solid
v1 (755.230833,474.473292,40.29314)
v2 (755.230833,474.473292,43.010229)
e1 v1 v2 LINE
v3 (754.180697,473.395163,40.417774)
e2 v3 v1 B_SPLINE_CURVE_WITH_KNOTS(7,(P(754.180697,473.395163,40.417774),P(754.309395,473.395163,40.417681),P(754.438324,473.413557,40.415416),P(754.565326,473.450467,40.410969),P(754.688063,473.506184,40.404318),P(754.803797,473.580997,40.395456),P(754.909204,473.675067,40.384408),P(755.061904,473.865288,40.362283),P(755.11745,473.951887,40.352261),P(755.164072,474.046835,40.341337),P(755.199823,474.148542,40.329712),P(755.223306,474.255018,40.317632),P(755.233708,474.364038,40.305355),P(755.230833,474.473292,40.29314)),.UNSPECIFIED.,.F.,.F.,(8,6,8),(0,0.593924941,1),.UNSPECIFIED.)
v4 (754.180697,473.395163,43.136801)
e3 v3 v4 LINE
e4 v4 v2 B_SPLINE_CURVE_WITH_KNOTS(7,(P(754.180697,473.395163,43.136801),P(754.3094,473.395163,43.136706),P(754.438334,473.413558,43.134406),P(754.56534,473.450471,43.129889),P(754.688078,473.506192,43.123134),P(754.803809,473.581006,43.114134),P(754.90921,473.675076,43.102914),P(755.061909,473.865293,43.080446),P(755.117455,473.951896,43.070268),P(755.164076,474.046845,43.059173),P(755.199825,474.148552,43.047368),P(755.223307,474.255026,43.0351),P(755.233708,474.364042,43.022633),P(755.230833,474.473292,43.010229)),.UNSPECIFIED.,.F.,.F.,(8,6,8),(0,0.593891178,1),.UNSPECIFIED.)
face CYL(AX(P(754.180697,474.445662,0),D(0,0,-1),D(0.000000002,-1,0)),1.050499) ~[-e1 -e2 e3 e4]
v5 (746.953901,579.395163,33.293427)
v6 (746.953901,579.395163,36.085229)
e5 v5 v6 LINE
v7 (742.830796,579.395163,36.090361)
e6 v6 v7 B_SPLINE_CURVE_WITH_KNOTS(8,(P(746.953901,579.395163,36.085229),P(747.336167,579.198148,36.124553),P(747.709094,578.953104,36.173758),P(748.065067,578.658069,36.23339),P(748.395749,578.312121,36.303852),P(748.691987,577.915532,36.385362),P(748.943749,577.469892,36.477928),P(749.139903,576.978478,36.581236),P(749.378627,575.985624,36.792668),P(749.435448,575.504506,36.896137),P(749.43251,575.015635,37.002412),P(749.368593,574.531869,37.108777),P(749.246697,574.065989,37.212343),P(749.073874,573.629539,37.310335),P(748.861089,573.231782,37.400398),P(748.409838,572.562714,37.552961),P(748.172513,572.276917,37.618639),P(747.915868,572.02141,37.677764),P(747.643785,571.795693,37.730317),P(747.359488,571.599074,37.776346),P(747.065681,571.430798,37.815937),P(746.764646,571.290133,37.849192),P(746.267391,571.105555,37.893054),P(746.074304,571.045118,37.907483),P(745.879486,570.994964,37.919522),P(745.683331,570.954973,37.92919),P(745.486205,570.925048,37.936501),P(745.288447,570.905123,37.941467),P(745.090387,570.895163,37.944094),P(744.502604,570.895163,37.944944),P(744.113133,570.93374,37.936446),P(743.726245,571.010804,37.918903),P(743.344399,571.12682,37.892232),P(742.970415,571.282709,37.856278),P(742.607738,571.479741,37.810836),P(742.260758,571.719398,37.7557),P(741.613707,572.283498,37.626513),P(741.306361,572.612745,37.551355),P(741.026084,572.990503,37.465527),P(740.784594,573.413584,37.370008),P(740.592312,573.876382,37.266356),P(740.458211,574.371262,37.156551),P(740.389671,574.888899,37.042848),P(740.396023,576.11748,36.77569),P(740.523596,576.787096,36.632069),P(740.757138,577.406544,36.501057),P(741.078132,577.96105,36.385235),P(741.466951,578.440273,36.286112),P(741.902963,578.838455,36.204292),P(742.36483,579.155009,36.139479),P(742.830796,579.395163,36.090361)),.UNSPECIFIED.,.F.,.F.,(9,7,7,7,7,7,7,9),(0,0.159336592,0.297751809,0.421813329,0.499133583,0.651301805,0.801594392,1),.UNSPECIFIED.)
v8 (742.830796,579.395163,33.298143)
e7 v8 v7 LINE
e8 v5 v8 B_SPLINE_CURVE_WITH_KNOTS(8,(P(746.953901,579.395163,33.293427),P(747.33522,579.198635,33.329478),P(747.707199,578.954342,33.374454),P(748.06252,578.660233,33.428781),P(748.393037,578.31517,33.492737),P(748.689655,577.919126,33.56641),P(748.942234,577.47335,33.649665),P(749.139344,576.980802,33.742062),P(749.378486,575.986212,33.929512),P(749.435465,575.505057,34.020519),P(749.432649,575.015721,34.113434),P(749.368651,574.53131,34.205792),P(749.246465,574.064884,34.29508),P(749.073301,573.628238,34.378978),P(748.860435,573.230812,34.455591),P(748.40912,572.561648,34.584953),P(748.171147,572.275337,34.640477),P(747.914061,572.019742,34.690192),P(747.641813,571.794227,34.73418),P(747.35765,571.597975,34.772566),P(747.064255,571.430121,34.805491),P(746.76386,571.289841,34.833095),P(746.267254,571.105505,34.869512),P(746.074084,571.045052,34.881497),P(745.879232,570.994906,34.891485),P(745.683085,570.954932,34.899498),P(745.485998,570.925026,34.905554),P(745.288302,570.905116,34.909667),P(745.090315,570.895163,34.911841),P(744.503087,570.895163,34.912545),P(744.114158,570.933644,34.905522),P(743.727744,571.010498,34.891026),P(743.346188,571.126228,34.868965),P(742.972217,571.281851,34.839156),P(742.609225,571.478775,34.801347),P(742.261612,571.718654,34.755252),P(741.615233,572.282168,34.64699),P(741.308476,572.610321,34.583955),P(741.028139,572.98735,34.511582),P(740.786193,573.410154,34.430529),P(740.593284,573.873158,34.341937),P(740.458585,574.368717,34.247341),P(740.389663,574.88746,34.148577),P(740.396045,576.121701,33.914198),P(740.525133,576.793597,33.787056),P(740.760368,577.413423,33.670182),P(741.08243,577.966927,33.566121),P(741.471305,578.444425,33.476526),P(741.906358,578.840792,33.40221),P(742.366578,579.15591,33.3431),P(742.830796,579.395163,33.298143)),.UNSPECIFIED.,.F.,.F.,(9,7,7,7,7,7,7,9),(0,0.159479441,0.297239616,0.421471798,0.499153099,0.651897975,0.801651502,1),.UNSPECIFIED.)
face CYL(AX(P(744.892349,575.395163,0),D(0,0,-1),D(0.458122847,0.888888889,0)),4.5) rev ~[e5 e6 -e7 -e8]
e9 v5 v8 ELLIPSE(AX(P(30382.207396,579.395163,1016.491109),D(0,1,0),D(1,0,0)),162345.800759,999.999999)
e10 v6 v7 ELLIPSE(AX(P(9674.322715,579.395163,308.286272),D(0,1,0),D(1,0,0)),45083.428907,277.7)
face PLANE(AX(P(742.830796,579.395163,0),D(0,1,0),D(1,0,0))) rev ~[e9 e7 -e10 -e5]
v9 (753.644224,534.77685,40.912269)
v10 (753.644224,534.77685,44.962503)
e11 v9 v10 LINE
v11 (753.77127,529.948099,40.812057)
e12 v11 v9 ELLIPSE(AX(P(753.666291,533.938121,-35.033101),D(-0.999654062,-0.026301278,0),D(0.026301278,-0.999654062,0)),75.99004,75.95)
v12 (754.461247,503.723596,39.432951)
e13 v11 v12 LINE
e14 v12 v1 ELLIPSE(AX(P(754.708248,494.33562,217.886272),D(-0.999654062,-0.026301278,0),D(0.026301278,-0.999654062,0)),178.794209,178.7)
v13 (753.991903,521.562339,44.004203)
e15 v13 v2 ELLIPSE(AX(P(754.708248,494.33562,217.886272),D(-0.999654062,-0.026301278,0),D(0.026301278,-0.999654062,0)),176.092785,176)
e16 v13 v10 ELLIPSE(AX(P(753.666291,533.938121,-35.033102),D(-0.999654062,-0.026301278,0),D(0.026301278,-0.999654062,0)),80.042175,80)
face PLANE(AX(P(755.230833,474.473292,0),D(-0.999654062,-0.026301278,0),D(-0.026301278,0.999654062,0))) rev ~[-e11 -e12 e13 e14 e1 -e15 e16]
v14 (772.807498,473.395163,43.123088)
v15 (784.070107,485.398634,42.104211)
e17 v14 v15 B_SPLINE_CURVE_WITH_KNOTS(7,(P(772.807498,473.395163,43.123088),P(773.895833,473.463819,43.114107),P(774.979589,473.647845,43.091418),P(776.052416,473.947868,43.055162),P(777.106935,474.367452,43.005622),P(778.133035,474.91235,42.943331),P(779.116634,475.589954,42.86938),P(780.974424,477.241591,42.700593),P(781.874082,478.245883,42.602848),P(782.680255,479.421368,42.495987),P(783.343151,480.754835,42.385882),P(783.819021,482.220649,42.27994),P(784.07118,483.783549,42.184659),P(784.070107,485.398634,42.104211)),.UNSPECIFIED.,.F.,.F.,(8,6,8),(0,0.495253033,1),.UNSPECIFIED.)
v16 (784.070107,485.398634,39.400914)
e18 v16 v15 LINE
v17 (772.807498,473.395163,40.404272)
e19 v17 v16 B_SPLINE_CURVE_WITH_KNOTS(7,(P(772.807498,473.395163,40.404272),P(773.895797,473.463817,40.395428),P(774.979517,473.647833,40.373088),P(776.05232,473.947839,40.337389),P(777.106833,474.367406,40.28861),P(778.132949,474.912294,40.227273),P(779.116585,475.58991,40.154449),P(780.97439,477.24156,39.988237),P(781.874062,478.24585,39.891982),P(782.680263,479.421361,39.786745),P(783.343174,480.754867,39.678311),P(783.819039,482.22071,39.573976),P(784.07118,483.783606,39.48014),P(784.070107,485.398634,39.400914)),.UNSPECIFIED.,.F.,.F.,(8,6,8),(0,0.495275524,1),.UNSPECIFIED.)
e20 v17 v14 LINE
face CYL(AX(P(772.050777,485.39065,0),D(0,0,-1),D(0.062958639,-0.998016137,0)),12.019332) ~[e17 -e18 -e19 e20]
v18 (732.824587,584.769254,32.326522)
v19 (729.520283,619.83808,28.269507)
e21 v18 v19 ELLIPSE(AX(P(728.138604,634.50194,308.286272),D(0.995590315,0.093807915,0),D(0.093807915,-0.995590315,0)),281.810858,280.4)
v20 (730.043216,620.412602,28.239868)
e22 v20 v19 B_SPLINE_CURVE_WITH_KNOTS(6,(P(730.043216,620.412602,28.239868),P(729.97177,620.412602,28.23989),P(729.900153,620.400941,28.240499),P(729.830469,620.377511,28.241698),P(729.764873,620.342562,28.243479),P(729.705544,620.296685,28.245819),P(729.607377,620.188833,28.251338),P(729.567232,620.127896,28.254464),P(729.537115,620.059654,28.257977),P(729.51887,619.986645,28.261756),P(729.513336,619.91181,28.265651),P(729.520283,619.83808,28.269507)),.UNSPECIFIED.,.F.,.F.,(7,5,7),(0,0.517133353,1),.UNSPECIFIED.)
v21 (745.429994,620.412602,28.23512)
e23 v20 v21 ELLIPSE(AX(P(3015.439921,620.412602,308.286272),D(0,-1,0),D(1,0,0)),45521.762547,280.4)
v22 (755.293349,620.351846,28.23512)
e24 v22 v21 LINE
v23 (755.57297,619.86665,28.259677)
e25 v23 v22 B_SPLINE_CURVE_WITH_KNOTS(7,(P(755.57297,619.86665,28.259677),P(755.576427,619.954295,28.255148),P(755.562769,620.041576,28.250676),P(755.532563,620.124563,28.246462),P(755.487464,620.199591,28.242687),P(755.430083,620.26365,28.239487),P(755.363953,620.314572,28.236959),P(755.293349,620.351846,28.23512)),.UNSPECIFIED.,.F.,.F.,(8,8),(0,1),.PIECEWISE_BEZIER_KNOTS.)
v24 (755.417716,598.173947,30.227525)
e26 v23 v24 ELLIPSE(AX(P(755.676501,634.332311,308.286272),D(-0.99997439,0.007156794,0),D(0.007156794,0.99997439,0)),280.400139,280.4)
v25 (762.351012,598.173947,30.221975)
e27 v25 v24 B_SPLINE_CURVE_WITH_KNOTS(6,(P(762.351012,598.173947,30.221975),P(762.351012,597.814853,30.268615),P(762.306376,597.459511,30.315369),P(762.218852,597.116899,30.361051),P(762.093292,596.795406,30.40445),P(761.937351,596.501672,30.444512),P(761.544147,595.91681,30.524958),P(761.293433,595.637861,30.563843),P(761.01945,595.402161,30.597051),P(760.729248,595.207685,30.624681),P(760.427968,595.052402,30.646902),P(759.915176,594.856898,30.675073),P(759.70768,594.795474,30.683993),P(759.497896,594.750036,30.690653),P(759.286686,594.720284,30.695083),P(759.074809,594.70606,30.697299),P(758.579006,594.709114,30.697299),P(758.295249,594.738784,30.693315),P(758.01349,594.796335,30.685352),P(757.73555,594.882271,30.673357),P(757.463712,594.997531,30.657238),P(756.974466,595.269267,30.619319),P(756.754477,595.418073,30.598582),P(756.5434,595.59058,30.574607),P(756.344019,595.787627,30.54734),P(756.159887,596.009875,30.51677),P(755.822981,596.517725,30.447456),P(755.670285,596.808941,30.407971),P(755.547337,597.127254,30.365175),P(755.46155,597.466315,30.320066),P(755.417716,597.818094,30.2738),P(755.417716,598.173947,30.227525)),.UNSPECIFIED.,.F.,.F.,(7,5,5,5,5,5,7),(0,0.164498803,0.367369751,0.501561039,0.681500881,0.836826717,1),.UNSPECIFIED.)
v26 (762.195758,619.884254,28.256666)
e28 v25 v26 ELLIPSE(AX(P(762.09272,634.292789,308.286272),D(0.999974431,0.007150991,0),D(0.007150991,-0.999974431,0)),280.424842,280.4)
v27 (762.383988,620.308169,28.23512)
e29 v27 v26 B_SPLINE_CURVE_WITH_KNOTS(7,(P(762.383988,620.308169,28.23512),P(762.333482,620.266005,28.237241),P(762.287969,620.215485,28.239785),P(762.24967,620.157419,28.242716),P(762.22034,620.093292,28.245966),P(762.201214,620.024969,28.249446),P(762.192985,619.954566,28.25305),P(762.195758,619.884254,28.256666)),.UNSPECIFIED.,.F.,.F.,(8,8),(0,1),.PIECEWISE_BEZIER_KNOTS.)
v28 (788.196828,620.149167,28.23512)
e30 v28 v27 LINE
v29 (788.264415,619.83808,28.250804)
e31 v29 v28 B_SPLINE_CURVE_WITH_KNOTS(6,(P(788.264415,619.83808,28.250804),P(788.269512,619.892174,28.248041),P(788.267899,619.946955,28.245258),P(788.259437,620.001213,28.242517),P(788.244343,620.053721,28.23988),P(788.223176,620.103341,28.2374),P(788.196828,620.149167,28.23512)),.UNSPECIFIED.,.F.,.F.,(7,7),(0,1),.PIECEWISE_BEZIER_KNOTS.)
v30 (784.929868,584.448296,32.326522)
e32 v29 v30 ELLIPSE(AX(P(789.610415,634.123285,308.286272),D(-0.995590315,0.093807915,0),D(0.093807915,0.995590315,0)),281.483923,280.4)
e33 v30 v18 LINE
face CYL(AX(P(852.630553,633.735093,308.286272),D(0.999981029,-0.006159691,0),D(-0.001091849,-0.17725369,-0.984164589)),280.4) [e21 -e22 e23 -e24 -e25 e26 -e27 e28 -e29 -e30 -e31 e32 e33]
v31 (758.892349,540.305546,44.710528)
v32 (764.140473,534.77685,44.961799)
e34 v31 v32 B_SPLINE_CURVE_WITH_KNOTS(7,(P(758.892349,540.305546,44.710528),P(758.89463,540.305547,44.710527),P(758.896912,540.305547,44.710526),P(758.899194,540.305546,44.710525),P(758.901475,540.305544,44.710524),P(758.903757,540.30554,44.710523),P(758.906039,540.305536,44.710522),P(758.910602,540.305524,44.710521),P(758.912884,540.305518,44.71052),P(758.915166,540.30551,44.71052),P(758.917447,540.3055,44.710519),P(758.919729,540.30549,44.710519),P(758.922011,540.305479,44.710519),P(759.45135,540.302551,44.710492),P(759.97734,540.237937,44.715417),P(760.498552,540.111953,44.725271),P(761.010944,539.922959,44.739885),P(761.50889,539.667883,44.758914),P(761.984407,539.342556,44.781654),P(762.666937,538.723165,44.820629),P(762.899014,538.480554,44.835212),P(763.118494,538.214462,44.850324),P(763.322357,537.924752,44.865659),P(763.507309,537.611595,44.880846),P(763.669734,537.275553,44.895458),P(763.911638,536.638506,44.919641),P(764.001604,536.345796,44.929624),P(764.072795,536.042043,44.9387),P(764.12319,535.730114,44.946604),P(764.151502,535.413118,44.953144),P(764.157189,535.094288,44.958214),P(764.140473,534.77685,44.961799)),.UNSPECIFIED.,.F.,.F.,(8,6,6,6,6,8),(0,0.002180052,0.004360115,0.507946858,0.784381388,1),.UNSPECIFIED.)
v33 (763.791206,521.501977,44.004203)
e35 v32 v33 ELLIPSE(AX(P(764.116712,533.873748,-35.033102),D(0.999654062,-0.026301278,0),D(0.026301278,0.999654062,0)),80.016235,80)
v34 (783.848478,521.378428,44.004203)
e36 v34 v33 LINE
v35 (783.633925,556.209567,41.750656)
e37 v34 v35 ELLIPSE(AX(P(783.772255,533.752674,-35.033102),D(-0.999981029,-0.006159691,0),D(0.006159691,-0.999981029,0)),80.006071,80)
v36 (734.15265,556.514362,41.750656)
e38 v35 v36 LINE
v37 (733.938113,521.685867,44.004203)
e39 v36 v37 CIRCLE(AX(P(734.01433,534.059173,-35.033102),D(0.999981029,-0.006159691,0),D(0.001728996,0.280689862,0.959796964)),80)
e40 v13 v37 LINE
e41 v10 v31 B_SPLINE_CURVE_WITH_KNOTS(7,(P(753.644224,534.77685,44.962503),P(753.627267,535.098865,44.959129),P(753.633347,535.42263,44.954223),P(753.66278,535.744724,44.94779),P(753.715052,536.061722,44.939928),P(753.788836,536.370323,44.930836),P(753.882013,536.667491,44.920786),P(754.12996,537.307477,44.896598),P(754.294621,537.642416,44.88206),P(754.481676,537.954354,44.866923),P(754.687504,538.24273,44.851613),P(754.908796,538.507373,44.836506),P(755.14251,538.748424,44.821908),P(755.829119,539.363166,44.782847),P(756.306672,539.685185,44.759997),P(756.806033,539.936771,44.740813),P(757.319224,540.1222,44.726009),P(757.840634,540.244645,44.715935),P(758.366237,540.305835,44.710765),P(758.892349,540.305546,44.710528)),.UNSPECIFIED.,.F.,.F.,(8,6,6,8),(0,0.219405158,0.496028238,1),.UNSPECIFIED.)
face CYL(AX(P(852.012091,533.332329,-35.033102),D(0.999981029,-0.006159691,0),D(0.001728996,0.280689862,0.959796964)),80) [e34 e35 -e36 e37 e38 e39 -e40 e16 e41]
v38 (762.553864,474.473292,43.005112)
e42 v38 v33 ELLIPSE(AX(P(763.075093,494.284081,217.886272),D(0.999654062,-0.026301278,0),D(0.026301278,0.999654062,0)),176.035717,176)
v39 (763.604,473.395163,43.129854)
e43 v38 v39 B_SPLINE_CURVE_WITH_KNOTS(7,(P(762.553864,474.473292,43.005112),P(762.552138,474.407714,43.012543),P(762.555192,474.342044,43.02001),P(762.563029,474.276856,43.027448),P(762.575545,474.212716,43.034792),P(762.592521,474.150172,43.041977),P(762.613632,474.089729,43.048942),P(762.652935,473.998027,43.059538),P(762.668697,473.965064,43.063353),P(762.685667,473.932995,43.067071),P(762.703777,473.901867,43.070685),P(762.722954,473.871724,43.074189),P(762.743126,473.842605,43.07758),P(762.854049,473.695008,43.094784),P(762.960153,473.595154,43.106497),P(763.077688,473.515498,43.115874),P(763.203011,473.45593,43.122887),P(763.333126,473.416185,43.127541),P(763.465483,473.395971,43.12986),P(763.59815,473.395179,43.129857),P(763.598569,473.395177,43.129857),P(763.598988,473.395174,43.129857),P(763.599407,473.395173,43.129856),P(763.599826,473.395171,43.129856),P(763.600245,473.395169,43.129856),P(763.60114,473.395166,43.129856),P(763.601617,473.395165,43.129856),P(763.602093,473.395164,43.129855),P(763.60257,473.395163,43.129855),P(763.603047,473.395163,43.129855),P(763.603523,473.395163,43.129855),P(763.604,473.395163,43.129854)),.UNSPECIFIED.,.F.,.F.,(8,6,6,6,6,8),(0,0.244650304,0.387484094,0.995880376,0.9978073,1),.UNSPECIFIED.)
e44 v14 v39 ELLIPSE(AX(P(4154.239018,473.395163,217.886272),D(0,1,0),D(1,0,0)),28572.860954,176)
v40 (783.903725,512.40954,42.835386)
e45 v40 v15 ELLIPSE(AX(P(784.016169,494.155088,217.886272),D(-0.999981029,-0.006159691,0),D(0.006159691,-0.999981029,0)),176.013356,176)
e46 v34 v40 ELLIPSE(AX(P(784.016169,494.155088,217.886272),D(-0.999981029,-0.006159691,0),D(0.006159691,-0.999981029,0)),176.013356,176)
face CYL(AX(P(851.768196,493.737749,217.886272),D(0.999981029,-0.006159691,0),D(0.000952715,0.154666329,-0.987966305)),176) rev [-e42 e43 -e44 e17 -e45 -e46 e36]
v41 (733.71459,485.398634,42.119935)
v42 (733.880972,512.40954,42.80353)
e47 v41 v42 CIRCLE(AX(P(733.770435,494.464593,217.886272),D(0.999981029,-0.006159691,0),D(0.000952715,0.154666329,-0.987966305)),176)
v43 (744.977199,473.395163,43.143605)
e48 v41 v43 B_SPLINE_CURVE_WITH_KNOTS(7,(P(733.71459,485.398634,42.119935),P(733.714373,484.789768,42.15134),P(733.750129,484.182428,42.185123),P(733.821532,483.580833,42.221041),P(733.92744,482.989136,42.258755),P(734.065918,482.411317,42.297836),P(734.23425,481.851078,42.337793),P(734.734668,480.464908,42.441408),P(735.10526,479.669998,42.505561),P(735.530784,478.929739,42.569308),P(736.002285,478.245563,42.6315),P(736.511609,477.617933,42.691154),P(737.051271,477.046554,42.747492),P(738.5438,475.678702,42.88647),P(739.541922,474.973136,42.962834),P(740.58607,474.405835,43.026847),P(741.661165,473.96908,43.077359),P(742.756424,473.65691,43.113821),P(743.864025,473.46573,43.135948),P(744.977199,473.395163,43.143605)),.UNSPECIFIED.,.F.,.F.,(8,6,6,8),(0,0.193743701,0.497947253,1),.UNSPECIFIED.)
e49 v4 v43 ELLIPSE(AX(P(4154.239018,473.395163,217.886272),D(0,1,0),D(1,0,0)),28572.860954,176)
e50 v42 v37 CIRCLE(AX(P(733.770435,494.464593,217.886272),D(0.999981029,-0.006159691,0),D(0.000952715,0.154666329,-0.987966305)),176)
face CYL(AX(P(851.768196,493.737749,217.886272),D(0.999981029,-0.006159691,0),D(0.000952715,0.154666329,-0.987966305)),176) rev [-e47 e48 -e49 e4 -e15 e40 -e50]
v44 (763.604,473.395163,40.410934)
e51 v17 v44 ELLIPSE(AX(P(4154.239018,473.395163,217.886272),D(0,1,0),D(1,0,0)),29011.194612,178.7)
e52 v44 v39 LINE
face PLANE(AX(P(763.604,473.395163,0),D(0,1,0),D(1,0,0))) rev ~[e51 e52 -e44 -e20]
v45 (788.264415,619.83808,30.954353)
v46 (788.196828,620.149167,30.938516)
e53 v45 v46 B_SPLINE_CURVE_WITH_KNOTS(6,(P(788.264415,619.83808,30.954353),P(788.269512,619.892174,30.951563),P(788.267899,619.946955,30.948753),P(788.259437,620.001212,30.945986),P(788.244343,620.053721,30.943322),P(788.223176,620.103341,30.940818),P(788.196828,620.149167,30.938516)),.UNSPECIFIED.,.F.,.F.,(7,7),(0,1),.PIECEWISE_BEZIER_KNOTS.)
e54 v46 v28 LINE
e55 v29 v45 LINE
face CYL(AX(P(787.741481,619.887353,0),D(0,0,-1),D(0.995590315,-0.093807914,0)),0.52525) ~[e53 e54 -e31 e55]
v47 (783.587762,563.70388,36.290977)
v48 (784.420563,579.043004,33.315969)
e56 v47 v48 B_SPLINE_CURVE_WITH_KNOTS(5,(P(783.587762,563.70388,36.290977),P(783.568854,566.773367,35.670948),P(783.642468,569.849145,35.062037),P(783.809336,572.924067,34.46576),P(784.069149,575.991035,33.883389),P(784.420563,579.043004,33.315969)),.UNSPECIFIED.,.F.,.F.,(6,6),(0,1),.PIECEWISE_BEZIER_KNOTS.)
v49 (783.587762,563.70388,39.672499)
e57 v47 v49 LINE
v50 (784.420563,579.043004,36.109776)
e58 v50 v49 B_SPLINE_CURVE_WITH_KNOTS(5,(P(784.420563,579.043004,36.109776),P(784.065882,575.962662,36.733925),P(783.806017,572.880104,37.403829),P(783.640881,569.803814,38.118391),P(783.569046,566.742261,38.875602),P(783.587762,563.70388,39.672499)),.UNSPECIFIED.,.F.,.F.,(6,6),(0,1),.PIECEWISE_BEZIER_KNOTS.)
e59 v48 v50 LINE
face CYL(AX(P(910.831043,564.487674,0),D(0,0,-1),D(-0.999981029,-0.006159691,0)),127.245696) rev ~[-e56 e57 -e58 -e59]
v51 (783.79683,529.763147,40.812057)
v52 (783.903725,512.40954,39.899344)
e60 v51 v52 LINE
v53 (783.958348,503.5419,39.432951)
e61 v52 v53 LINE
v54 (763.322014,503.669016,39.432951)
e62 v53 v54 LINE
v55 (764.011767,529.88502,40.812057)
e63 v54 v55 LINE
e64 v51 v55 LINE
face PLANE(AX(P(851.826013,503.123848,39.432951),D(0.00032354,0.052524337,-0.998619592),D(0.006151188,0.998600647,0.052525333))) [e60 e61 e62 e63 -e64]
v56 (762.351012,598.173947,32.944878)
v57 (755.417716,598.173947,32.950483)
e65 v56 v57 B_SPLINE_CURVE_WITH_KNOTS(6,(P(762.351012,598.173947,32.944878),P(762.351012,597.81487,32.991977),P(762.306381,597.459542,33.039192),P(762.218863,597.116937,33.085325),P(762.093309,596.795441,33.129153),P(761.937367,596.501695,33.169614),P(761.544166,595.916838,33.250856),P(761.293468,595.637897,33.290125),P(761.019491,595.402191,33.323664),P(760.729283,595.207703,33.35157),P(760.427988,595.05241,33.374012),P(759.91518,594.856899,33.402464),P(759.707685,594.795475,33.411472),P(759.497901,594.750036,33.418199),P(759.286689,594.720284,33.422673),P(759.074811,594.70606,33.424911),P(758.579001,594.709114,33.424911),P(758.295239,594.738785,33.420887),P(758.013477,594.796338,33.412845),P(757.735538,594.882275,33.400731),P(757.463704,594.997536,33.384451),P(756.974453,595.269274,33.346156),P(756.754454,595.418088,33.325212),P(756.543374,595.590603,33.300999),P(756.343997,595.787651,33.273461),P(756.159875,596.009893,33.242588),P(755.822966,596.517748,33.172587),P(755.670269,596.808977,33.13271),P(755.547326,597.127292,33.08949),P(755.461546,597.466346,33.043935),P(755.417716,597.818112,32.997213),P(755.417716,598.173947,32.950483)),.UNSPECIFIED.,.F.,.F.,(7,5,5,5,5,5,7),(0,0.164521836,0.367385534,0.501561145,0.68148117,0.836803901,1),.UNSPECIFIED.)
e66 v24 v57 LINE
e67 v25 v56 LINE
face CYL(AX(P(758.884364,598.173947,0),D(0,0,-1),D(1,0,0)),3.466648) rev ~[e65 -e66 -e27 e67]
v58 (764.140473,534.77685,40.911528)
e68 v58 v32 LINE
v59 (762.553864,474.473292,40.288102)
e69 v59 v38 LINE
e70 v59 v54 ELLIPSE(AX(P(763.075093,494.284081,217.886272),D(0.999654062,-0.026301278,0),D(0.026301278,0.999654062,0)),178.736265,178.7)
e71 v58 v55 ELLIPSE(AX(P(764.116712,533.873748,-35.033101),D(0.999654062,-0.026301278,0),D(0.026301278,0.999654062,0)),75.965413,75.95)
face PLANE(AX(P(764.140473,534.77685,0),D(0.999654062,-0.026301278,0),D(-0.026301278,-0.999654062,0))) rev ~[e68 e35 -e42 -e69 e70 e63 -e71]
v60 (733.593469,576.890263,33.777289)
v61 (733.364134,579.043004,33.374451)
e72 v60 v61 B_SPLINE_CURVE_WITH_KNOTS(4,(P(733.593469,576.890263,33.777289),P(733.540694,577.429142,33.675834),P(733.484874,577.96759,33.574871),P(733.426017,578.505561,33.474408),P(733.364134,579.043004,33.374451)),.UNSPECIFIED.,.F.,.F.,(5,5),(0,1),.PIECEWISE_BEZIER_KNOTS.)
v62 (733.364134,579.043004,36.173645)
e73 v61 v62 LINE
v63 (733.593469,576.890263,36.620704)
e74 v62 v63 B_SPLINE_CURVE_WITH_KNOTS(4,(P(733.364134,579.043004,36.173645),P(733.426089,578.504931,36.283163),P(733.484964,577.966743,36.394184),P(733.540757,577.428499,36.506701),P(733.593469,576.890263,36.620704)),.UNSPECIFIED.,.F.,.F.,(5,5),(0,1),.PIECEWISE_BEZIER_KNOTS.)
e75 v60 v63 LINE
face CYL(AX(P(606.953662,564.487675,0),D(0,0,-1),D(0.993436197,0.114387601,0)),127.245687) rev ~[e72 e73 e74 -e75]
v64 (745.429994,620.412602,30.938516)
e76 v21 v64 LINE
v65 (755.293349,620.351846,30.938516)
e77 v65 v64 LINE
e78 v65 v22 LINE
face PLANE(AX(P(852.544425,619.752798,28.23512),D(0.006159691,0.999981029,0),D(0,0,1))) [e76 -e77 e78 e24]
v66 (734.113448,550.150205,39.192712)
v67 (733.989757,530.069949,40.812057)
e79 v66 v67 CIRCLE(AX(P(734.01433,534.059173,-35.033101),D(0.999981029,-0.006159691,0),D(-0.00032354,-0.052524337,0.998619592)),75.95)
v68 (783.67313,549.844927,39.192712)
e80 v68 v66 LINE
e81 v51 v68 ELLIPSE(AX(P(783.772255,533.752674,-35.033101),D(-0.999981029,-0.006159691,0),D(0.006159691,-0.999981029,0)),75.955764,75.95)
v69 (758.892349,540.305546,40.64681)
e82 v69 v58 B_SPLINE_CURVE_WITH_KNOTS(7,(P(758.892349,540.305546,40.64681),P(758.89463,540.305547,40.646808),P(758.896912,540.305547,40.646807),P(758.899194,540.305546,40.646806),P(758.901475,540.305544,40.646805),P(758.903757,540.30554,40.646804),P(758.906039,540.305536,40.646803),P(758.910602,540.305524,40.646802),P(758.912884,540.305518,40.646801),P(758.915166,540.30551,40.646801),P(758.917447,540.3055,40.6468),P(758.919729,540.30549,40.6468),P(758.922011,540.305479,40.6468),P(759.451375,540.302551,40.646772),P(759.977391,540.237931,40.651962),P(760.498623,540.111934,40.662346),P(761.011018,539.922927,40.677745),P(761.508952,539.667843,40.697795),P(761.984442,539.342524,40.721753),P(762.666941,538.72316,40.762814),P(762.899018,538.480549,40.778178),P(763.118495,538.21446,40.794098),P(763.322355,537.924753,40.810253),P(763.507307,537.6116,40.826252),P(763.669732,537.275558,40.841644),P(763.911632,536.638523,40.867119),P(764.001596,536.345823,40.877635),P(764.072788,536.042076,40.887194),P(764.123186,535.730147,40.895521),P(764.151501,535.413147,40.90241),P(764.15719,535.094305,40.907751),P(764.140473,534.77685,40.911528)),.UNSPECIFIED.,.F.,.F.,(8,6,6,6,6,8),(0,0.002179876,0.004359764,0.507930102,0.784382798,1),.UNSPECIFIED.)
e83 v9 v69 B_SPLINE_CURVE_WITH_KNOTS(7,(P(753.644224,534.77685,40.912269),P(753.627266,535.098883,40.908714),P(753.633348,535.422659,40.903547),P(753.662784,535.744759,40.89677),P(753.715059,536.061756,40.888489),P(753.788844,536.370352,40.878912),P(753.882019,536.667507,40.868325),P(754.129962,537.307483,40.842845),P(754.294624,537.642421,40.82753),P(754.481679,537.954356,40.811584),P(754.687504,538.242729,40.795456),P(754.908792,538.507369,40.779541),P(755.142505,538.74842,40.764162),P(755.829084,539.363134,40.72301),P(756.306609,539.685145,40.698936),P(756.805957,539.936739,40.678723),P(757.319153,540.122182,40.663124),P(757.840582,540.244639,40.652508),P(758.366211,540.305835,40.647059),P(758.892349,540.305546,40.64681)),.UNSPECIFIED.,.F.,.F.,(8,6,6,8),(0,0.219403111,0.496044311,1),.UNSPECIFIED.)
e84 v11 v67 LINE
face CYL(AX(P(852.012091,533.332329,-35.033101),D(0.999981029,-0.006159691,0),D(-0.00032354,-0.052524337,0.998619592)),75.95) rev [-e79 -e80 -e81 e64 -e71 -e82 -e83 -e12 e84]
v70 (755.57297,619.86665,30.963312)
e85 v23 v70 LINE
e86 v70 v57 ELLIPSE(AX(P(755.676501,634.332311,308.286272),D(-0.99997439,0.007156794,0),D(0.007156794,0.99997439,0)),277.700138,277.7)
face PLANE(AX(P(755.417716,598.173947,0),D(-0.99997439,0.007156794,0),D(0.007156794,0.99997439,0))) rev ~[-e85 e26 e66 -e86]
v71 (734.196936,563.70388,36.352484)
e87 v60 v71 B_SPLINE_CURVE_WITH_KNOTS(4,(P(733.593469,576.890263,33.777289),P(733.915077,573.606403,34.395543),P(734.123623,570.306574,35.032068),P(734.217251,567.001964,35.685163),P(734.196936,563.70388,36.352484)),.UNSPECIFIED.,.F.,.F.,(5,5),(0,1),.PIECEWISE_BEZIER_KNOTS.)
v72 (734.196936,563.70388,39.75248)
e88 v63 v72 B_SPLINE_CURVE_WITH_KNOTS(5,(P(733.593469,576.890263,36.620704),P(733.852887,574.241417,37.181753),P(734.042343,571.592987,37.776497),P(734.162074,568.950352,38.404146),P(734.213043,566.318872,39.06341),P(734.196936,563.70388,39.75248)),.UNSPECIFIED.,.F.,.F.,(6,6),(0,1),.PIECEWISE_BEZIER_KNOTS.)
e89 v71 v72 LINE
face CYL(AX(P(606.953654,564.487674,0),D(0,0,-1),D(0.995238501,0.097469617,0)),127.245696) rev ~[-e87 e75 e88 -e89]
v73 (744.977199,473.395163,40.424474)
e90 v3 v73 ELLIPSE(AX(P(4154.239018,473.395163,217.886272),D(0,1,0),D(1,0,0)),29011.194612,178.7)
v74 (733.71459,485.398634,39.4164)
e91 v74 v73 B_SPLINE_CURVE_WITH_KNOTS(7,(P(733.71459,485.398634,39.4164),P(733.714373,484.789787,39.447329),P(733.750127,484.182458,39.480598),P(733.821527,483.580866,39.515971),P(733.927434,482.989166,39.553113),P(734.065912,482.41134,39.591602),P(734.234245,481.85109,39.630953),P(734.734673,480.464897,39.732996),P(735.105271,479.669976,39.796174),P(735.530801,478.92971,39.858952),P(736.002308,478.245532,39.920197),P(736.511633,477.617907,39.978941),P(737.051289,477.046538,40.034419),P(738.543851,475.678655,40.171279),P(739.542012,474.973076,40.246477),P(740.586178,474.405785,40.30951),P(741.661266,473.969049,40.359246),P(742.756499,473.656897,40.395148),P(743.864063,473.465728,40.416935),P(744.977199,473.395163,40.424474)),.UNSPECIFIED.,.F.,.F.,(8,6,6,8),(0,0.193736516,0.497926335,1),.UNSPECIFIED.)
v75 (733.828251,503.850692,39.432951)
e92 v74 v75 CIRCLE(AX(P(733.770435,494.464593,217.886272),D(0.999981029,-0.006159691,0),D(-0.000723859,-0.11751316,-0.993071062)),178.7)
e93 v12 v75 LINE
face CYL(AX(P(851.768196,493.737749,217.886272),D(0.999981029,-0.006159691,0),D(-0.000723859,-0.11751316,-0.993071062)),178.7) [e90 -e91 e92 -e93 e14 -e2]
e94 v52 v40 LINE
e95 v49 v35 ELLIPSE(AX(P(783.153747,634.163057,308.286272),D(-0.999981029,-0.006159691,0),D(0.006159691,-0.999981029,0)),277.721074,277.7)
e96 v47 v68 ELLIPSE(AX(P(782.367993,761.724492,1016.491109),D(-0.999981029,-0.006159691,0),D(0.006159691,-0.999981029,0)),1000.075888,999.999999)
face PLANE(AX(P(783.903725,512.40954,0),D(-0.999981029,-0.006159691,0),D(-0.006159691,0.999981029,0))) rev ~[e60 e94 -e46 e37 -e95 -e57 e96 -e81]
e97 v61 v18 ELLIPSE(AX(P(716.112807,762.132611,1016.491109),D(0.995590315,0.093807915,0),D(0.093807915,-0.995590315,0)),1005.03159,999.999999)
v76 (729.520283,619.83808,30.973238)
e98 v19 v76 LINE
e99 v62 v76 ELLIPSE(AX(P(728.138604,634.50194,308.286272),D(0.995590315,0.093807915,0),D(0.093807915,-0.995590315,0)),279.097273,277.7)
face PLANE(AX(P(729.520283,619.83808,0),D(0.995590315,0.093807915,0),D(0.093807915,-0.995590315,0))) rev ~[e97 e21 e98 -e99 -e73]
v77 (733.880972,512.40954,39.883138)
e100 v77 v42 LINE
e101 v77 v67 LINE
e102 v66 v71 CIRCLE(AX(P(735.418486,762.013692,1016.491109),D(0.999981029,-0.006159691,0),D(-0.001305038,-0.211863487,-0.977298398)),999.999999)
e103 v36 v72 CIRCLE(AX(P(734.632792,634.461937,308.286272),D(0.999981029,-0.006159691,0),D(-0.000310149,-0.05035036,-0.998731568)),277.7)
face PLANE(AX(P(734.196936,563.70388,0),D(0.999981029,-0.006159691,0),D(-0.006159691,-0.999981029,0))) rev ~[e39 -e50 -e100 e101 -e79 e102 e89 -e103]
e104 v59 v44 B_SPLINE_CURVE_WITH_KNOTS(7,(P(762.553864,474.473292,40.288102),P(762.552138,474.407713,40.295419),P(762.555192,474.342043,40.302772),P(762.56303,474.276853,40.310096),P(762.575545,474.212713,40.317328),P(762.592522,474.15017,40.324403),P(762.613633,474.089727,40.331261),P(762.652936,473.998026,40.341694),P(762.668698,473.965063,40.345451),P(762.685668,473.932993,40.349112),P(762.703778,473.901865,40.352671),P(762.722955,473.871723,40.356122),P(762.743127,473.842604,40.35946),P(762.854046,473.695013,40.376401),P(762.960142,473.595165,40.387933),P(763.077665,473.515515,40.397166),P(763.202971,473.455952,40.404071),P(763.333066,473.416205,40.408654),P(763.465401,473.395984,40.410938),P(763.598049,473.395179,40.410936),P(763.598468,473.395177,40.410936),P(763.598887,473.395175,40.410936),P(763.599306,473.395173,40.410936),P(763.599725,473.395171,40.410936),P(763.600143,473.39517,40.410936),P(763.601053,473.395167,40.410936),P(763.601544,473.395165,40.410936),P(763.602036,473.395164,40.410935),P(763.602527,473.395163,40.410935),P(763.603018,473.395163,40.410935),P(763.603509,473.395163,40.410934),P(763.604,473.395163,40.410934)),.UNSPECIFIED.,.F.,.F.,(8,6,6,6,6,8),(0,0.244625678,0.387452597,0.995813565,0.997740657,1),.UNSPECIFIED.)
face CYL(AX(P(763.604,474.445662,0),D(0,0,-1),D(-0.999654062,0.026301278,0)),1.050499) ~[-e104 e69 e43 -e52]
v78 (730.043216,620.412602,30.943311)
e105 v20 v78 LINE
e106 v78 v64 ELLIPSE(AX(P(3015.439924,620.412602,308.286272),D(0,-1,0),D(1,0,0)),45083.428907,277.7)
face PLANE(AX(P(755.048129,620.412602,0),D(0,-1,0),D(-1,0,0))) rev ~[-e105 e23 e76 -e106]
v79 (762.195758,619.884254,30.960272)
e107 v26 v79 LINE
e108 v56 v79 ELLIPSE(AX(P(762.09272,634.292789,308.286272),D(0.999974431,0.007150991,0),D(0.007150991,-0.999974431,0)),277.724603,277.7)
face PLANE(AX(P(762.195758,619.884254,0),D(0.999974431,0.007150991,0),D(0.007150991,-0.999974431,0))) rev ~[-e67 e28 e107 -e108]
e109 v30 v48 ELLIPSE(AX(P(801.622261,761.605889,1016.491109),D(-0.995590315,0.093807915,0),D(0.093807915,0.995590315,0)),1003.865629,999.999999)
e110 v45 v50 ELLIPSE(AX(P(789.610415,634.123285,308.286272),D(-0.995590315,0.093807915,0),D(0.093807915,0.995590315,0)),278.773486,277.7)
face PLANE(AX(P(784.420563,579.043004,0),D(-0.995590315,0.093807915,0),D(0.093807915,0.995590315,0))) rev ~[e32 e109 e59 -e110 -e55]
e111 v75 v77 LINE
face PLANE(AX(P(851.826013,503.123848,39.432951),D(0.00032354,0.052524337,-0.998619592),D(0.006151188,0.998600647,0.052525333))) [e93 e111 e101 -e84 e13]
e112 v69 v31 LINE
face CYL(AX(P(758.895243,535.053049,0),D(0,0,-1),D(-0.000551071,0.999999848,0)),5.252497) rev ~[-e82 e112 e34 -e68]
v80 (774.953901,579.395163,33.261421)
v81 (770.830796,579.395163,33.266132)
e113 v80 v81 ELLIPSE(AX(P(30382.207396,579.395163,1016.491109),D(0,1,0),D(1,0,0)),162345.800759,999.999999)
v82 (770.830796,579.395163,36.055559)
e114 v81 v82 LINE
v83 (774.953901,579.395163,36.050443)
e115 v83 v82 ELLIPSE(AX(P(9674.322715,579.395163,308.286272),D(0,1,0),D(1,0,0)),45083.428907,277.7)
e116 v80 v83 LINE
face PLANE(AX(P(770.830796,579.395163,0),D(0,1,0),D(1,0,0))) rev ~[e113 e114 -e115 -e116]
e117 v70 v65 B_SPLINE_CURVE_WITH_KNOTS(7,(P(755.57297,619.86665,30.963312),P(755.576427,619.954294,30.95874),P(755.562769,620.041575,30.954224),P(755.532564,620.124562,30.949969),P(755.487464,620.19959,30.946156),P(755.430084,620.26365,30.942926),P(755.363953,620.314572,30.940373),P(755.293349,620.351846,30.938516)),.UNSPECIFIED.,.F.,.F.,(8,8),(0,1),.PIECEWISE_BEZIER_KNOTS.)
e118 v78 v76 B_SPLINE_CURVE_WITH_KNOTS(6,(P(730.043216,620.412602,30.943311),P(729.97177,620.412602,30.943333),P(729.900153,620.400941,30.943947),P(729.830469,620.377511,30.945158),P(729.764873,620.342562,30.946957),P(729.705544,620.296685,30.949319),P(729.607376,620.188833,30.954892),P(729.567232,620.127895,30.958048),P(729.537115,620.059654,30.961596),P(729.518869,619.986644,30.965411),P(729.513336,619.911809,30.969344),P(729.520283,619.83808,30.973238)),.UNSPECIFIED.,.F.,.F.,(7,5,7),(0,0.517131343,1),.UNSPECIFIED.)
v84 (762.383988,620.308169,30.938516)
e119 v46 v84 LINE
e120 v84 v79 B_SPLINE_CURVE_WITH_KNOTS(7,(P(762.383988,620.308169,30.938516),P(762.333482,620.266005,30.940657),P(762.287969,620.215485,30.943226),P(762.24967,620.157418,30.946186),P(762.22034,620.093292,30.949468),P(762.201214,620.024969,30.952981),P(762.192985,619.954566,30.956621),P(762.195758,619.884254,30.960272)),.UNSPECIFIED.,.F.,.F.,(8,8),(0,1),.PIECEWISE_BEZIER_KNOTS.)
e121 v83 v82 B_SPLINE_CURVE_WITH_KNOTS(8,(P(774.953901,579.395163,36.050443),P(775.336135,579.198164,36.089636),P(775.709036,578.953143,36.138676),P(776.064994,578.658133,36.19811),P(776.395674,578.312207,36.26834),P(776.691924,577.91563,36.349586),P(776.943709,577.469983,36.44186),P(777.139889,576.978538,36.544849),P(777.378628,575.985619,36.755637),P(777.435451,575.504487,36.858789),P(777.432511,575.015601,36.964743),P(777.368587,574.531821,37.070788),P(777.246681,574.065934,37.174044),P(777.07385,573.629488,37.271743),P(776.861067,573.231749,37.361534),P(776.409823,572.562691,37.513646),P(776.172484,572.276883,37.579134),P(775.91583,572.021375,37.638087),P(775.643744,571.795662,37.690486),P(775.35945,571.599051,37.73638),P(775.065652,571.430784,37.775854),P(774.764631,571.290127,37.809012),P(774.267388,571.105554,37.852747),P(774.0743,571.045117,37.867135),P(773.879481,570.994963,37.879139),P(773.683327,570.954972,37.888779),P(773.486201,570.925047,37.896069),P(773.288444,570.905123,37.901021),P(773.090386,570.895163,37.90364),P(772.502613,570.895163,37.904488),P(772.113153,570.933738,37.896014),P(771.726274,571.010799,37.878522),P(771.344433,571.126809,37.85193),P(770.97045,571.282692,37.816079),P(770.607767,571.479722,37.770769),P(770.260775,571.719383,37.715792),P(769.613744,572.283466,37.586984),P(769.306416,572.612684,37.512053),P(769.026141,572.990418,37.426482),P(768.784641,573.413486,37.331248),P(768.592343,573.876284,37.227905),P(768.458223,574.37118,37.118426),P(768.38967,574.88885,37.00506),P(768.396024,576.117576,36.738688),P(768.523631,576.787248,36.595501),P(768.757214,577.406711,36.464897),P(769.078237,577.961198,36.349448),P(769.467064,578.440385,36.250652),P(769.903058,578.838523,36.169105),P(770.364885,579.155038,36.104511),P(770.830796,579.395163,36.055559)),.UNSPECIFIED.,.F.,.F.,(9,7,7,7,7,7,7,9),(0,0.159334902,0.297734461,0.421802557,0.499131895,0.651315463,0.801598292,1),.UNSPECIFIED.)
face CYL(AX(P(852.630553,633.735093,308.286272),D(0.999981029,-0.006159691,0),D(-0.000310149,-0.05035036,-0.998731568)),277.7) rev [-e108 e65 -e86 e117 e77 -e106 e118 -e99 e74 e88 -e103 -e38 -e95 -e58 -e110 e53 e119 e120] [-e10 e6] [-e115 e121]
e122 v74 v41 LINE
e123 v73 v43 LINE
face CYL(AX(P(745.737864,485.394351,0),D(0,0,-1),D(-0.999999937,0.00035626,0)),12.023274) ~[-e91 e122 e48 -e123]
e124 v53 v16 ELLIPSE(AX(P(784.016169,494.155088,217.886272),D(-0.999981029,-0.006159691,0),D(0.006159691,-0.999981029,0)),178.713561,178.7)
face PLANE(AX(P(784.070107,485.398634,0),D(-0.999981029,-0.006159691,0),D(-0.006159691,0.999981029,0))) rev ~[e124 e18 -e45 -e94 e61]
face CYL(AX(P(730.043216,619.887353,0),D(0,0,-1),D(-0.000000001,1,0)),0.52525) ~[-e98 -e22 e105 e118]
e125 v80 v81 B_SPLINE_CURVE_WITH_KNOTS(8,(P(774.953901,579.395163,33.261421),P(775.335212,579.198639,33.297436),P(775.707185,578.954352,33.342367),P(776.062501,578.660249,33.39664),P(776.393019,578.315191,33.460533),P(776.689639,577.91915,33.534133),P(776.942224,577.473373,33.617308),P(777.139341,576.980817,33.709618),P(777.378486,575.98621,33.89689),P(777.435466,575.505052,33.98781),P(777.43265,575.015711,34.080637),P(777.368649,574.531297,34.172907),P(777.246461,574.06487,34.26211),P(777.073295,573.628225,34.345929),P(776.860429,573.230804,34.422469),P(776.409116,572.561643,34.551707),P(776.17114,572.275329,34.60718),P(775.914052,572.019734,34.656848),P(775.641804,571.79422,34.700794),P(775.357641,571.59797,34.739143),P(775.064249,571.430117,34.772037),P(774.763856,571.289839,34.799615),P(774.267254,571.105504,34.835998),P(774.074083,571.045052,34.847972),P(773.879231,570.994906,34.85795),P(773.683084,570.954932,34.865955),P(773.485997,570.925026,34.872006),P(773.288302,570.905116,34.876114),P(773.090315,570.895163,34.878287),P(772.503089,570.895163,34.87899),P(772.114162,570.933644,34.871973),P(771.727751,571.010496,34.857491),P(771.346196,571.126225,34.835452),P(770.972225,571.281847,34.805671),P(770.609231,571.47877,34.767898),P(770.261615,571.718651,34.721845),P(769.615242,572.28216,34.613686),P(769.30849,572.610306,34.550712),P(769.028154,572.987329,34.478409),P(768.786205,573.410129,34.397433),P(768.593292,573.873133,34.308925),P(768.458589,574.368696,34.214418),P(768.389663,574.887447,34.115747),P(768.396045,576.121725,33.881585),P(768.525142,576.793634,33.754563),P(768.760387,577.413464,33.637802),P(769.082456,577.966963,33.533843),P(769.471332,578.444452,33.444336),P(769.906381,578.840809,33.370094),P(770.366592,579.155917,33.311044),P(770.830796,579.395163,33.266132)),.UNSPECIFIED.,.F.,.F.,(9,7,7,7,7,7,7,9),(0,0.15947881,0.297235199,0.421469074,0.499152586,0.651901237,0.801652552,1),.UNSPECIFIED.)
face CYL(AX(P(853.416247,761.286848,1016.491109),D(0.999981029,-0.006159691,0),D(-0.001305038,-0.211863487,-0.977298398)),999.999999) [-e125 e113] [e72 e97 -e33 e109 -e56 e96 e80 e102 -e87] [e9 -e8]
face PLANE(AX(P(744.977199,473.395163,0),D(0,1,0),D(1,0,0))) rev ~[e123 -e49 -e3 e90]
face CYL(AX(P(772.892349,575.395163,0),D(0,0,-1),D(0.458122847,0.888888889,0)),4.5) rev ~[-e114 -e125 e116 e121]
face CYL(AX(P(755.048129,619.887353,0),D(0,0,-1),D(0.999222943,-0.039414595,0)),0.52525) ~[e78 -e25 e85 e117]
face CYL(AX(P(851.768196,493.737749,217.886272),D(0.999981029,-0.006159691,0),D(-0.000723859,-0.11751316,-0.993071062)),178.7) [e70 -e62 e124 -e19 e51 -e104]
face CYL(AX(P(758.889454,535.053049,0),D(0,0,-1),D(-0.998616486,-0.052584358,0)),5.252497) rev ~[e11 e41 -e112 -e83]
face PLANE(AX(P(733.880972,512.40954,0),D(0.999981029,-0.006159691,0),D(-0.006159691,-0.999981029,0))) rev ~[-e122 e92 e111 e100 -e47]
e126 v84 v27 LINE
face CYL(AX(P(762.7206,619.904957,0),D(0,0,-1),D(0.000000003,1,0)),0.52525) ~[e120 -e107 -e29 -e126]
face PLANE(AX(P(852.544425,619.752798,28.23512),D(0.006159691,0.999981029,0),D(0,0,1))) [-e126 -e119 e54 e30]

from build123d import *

# Parameters (mm, degrees)
BOSS_EXTRUDE1_DEPTH     = 92
CUT_EXTRUDE1_DEPTH      = 79
CUT_EXTRUDE1_DEPTH_BACK = 118
SKETCH3_OUTSIDE_W       = 130.624
SKETCH3_OUTSIDE_H       = 186.018
CUT_EXTRUDE2_DEPTH      = 81


with BuildPart() as part:
    # Sketch2 → Boss-Extrude1 (new body)
    with BuildSketch(Plane.XY):
        with BuildLine():
            Line((733.88097227, 512.409540482), (733.714590272, 485.398634247))
            ThreePointArc((733.714590272, 485.398634247), (736.969847934, 477.167503112), (744.977198909, 473.39516265))
            Line((744.977198909, 473.39516265), (754.180697278, 473.39516265))
            ThreePointArc((754.180697278, 473.39516265), (754.93321765, 473.712680398), (755.230833309, 474.473291567))
            Line((755.230833309, 474.473291567), (753.644223799, 534.77684994))
            ThreePointArc((753.644223799, 534.77684994), (755.079973826, 538.669205509), (758.892348589, 540.305545534))
            ThreePointArc((758.892348589, 540.305545534), (762.704723352, 538.669205509), (764.140473379, 534.77684994))
            Line((764.140473379, 534.77684994), (762.553863869, 474.473291567))
            ThreePointArc((762.553863869, 474.473291567), (762.851479527, 473.712680398), (763.6039999, 473.39516265))
            Line((763.6039999, 473.39516265), (772.807498269, 473.39516265))
            ThreePointArc((772.807498269, 473.39516265), (780.815918514, 477.166499838), (784.070106906, 485.398634247))
            Line((784.070106906, 485.398634247), (783.903724908, 512.409540482))
            Line((783.903724908, 512.409540482), (783.587761623, 563.703879936))
            ThreePointArc((783.587761623, 563.703879936), (783.77247461, 571.386020865), (784.420563352, 579.043003895))
            Line((784.420563352, 579.043003895), (788.264414586, 619.838080174))
            ThreePointArc((788.264414586, 619.838080174), (788.129918742, 620.240910995), (787.741481052, 620.412602475))
            Line((787.741481052, 620.412602475), (763.947048131, 620.430206642))
            Line((763.947048131, 620.430206642), (762.720599723, 620.430206642))
            ThreePointArc((762.720599723, 620.430206642), (762.341943379, 620.26897154), (762.195758152, 619.884254418))
            Line((762.195758152, 619.884254418), (762.351012345, 598.173946788))
            ThreePointArc((762.351012345, 598.173946788), (758.884364195, 594.707298638), (755.417716045, 598.173946788))
            Line((755.417716045, 598.173946788), (755.572970238, 619.86665025))
            ThreePointArc((755.572970238, 619.86665025), (755.426785011, 620.251367372), (755.048128667, 620.412602475))
            Line((755.048128667, 620.412602475), (753.837649047, 620.412602475))
            Line((753.837649047, 620.412602475), (730.043216126, 620.412602475))
            ThreePointArc((730.043216126, 620.412602475), (729.654778436, 620.240910995), (729.520282592, 619.838080174))
            Line((729.520282592, 619.838080174), (733.364133826, 579.043003895))
            ThreePointArc((733.364133826, 579.043003895), (733.483379901, 577.967121369), (733.593469282, 576.890263363))
            ThreePointArc((733.593469282, 576.890263363), (734.066308334, 570.3049022), (734.196935555, 563.703879936))
            Line((734.196935555, 563.703879936), (733.88097227, 512.409540482))
        make_face()
    extrude(amount=BOSS_EXTRUDE1_DEPTH)

    # Sketch3 outside → Cut-Extrude1 (cut, two sides: drawn at the far end of the back side and taken through both)
    with BuildSketch(Plane(origin=(730.696902853, -4.500952665, 0), x_dir=(0, 0, 1), z_dir=(-0.9999810289222565, 0.006159691192376741, 0)).offset(-CUT_EXTRUDE1_DEPTH_BACK)):
        with Locations((46, 551.577)):
            Rectangle(SKETCH3_OUTSIDE_W, SKETCH3_OUTSIDE_H)
        with BuildLine():
            Line((43.143604537, 477.975011324), (40.424473775, 477.975011324))
            ThreePointArc((40.424473775, 477.975011324), (39.281332513, 493.147025466), (39.432951406, 508.361288404))
            Line((39.432951406, 508.361288404), (40.812056524, 534.581043725))
            ThreePointArc((40.812056524, 534.581043725), (40.67113948, 544.675291647), (39.192711885, 554.661679912))
            ThreePointArc((39.192711885, 554.661679912), (35.60695145, 571.936620339), (32.326521857, 589.272133783))
            ThreePointArc((32.326521857, 589.272133783), (29.707708403, 607.06664821), (28.235119991, 624.992451149))
            Line((28.235119991, 624.992451149), (30.938516025, 624.992451149))
            ThreePointArc((30.938516025, 624.992451149), (34.470259418, 592.692390498), (41.750655625, 561.025957788))
            ThreePointArc((41.750655625, 561.025957788), (44.799963896, 543.735773309), (44.004202882, 526.196801712))
            ThreePointArc((44.004202882, 526.196801712), (41.914294104, 502.115525022), (43.143604537, 477.975011324))
        make_face(mode=Mode.SUBTRACT)
    extrude(amount=CUT_EXTRUDE1_DEPTH + CUT_EXTRUDE1_DEPTH_BACK, mode=Mode.SUBTRACT)

    # Sketch4 → Cut-Extrude2 (cut)
    with BuildSketch(Plane.XY):
        with BuildLine():
            Line((770.830795776, 579.39516265), (774.953901402, 579.39516265))
            ThreePointArc((774.953901402, 579.39516265), (772.892348589, 570.89516265), (770.830795776, 579.39516265))
        make_face()
        with BuildLine():
            Line((742.830795776, 579.39516265), (746.953901402, 579.39516265))
            ThreePointArc((746.953901402, 579.39516265), (744.892348589, 570.89516265), (742.830795776, 579.39516265))
        make_face()
    extrude(amount=CUT_EXTRUDE2_DEPTH, mode=Mode.SUBTRACT)


solid = part.part
